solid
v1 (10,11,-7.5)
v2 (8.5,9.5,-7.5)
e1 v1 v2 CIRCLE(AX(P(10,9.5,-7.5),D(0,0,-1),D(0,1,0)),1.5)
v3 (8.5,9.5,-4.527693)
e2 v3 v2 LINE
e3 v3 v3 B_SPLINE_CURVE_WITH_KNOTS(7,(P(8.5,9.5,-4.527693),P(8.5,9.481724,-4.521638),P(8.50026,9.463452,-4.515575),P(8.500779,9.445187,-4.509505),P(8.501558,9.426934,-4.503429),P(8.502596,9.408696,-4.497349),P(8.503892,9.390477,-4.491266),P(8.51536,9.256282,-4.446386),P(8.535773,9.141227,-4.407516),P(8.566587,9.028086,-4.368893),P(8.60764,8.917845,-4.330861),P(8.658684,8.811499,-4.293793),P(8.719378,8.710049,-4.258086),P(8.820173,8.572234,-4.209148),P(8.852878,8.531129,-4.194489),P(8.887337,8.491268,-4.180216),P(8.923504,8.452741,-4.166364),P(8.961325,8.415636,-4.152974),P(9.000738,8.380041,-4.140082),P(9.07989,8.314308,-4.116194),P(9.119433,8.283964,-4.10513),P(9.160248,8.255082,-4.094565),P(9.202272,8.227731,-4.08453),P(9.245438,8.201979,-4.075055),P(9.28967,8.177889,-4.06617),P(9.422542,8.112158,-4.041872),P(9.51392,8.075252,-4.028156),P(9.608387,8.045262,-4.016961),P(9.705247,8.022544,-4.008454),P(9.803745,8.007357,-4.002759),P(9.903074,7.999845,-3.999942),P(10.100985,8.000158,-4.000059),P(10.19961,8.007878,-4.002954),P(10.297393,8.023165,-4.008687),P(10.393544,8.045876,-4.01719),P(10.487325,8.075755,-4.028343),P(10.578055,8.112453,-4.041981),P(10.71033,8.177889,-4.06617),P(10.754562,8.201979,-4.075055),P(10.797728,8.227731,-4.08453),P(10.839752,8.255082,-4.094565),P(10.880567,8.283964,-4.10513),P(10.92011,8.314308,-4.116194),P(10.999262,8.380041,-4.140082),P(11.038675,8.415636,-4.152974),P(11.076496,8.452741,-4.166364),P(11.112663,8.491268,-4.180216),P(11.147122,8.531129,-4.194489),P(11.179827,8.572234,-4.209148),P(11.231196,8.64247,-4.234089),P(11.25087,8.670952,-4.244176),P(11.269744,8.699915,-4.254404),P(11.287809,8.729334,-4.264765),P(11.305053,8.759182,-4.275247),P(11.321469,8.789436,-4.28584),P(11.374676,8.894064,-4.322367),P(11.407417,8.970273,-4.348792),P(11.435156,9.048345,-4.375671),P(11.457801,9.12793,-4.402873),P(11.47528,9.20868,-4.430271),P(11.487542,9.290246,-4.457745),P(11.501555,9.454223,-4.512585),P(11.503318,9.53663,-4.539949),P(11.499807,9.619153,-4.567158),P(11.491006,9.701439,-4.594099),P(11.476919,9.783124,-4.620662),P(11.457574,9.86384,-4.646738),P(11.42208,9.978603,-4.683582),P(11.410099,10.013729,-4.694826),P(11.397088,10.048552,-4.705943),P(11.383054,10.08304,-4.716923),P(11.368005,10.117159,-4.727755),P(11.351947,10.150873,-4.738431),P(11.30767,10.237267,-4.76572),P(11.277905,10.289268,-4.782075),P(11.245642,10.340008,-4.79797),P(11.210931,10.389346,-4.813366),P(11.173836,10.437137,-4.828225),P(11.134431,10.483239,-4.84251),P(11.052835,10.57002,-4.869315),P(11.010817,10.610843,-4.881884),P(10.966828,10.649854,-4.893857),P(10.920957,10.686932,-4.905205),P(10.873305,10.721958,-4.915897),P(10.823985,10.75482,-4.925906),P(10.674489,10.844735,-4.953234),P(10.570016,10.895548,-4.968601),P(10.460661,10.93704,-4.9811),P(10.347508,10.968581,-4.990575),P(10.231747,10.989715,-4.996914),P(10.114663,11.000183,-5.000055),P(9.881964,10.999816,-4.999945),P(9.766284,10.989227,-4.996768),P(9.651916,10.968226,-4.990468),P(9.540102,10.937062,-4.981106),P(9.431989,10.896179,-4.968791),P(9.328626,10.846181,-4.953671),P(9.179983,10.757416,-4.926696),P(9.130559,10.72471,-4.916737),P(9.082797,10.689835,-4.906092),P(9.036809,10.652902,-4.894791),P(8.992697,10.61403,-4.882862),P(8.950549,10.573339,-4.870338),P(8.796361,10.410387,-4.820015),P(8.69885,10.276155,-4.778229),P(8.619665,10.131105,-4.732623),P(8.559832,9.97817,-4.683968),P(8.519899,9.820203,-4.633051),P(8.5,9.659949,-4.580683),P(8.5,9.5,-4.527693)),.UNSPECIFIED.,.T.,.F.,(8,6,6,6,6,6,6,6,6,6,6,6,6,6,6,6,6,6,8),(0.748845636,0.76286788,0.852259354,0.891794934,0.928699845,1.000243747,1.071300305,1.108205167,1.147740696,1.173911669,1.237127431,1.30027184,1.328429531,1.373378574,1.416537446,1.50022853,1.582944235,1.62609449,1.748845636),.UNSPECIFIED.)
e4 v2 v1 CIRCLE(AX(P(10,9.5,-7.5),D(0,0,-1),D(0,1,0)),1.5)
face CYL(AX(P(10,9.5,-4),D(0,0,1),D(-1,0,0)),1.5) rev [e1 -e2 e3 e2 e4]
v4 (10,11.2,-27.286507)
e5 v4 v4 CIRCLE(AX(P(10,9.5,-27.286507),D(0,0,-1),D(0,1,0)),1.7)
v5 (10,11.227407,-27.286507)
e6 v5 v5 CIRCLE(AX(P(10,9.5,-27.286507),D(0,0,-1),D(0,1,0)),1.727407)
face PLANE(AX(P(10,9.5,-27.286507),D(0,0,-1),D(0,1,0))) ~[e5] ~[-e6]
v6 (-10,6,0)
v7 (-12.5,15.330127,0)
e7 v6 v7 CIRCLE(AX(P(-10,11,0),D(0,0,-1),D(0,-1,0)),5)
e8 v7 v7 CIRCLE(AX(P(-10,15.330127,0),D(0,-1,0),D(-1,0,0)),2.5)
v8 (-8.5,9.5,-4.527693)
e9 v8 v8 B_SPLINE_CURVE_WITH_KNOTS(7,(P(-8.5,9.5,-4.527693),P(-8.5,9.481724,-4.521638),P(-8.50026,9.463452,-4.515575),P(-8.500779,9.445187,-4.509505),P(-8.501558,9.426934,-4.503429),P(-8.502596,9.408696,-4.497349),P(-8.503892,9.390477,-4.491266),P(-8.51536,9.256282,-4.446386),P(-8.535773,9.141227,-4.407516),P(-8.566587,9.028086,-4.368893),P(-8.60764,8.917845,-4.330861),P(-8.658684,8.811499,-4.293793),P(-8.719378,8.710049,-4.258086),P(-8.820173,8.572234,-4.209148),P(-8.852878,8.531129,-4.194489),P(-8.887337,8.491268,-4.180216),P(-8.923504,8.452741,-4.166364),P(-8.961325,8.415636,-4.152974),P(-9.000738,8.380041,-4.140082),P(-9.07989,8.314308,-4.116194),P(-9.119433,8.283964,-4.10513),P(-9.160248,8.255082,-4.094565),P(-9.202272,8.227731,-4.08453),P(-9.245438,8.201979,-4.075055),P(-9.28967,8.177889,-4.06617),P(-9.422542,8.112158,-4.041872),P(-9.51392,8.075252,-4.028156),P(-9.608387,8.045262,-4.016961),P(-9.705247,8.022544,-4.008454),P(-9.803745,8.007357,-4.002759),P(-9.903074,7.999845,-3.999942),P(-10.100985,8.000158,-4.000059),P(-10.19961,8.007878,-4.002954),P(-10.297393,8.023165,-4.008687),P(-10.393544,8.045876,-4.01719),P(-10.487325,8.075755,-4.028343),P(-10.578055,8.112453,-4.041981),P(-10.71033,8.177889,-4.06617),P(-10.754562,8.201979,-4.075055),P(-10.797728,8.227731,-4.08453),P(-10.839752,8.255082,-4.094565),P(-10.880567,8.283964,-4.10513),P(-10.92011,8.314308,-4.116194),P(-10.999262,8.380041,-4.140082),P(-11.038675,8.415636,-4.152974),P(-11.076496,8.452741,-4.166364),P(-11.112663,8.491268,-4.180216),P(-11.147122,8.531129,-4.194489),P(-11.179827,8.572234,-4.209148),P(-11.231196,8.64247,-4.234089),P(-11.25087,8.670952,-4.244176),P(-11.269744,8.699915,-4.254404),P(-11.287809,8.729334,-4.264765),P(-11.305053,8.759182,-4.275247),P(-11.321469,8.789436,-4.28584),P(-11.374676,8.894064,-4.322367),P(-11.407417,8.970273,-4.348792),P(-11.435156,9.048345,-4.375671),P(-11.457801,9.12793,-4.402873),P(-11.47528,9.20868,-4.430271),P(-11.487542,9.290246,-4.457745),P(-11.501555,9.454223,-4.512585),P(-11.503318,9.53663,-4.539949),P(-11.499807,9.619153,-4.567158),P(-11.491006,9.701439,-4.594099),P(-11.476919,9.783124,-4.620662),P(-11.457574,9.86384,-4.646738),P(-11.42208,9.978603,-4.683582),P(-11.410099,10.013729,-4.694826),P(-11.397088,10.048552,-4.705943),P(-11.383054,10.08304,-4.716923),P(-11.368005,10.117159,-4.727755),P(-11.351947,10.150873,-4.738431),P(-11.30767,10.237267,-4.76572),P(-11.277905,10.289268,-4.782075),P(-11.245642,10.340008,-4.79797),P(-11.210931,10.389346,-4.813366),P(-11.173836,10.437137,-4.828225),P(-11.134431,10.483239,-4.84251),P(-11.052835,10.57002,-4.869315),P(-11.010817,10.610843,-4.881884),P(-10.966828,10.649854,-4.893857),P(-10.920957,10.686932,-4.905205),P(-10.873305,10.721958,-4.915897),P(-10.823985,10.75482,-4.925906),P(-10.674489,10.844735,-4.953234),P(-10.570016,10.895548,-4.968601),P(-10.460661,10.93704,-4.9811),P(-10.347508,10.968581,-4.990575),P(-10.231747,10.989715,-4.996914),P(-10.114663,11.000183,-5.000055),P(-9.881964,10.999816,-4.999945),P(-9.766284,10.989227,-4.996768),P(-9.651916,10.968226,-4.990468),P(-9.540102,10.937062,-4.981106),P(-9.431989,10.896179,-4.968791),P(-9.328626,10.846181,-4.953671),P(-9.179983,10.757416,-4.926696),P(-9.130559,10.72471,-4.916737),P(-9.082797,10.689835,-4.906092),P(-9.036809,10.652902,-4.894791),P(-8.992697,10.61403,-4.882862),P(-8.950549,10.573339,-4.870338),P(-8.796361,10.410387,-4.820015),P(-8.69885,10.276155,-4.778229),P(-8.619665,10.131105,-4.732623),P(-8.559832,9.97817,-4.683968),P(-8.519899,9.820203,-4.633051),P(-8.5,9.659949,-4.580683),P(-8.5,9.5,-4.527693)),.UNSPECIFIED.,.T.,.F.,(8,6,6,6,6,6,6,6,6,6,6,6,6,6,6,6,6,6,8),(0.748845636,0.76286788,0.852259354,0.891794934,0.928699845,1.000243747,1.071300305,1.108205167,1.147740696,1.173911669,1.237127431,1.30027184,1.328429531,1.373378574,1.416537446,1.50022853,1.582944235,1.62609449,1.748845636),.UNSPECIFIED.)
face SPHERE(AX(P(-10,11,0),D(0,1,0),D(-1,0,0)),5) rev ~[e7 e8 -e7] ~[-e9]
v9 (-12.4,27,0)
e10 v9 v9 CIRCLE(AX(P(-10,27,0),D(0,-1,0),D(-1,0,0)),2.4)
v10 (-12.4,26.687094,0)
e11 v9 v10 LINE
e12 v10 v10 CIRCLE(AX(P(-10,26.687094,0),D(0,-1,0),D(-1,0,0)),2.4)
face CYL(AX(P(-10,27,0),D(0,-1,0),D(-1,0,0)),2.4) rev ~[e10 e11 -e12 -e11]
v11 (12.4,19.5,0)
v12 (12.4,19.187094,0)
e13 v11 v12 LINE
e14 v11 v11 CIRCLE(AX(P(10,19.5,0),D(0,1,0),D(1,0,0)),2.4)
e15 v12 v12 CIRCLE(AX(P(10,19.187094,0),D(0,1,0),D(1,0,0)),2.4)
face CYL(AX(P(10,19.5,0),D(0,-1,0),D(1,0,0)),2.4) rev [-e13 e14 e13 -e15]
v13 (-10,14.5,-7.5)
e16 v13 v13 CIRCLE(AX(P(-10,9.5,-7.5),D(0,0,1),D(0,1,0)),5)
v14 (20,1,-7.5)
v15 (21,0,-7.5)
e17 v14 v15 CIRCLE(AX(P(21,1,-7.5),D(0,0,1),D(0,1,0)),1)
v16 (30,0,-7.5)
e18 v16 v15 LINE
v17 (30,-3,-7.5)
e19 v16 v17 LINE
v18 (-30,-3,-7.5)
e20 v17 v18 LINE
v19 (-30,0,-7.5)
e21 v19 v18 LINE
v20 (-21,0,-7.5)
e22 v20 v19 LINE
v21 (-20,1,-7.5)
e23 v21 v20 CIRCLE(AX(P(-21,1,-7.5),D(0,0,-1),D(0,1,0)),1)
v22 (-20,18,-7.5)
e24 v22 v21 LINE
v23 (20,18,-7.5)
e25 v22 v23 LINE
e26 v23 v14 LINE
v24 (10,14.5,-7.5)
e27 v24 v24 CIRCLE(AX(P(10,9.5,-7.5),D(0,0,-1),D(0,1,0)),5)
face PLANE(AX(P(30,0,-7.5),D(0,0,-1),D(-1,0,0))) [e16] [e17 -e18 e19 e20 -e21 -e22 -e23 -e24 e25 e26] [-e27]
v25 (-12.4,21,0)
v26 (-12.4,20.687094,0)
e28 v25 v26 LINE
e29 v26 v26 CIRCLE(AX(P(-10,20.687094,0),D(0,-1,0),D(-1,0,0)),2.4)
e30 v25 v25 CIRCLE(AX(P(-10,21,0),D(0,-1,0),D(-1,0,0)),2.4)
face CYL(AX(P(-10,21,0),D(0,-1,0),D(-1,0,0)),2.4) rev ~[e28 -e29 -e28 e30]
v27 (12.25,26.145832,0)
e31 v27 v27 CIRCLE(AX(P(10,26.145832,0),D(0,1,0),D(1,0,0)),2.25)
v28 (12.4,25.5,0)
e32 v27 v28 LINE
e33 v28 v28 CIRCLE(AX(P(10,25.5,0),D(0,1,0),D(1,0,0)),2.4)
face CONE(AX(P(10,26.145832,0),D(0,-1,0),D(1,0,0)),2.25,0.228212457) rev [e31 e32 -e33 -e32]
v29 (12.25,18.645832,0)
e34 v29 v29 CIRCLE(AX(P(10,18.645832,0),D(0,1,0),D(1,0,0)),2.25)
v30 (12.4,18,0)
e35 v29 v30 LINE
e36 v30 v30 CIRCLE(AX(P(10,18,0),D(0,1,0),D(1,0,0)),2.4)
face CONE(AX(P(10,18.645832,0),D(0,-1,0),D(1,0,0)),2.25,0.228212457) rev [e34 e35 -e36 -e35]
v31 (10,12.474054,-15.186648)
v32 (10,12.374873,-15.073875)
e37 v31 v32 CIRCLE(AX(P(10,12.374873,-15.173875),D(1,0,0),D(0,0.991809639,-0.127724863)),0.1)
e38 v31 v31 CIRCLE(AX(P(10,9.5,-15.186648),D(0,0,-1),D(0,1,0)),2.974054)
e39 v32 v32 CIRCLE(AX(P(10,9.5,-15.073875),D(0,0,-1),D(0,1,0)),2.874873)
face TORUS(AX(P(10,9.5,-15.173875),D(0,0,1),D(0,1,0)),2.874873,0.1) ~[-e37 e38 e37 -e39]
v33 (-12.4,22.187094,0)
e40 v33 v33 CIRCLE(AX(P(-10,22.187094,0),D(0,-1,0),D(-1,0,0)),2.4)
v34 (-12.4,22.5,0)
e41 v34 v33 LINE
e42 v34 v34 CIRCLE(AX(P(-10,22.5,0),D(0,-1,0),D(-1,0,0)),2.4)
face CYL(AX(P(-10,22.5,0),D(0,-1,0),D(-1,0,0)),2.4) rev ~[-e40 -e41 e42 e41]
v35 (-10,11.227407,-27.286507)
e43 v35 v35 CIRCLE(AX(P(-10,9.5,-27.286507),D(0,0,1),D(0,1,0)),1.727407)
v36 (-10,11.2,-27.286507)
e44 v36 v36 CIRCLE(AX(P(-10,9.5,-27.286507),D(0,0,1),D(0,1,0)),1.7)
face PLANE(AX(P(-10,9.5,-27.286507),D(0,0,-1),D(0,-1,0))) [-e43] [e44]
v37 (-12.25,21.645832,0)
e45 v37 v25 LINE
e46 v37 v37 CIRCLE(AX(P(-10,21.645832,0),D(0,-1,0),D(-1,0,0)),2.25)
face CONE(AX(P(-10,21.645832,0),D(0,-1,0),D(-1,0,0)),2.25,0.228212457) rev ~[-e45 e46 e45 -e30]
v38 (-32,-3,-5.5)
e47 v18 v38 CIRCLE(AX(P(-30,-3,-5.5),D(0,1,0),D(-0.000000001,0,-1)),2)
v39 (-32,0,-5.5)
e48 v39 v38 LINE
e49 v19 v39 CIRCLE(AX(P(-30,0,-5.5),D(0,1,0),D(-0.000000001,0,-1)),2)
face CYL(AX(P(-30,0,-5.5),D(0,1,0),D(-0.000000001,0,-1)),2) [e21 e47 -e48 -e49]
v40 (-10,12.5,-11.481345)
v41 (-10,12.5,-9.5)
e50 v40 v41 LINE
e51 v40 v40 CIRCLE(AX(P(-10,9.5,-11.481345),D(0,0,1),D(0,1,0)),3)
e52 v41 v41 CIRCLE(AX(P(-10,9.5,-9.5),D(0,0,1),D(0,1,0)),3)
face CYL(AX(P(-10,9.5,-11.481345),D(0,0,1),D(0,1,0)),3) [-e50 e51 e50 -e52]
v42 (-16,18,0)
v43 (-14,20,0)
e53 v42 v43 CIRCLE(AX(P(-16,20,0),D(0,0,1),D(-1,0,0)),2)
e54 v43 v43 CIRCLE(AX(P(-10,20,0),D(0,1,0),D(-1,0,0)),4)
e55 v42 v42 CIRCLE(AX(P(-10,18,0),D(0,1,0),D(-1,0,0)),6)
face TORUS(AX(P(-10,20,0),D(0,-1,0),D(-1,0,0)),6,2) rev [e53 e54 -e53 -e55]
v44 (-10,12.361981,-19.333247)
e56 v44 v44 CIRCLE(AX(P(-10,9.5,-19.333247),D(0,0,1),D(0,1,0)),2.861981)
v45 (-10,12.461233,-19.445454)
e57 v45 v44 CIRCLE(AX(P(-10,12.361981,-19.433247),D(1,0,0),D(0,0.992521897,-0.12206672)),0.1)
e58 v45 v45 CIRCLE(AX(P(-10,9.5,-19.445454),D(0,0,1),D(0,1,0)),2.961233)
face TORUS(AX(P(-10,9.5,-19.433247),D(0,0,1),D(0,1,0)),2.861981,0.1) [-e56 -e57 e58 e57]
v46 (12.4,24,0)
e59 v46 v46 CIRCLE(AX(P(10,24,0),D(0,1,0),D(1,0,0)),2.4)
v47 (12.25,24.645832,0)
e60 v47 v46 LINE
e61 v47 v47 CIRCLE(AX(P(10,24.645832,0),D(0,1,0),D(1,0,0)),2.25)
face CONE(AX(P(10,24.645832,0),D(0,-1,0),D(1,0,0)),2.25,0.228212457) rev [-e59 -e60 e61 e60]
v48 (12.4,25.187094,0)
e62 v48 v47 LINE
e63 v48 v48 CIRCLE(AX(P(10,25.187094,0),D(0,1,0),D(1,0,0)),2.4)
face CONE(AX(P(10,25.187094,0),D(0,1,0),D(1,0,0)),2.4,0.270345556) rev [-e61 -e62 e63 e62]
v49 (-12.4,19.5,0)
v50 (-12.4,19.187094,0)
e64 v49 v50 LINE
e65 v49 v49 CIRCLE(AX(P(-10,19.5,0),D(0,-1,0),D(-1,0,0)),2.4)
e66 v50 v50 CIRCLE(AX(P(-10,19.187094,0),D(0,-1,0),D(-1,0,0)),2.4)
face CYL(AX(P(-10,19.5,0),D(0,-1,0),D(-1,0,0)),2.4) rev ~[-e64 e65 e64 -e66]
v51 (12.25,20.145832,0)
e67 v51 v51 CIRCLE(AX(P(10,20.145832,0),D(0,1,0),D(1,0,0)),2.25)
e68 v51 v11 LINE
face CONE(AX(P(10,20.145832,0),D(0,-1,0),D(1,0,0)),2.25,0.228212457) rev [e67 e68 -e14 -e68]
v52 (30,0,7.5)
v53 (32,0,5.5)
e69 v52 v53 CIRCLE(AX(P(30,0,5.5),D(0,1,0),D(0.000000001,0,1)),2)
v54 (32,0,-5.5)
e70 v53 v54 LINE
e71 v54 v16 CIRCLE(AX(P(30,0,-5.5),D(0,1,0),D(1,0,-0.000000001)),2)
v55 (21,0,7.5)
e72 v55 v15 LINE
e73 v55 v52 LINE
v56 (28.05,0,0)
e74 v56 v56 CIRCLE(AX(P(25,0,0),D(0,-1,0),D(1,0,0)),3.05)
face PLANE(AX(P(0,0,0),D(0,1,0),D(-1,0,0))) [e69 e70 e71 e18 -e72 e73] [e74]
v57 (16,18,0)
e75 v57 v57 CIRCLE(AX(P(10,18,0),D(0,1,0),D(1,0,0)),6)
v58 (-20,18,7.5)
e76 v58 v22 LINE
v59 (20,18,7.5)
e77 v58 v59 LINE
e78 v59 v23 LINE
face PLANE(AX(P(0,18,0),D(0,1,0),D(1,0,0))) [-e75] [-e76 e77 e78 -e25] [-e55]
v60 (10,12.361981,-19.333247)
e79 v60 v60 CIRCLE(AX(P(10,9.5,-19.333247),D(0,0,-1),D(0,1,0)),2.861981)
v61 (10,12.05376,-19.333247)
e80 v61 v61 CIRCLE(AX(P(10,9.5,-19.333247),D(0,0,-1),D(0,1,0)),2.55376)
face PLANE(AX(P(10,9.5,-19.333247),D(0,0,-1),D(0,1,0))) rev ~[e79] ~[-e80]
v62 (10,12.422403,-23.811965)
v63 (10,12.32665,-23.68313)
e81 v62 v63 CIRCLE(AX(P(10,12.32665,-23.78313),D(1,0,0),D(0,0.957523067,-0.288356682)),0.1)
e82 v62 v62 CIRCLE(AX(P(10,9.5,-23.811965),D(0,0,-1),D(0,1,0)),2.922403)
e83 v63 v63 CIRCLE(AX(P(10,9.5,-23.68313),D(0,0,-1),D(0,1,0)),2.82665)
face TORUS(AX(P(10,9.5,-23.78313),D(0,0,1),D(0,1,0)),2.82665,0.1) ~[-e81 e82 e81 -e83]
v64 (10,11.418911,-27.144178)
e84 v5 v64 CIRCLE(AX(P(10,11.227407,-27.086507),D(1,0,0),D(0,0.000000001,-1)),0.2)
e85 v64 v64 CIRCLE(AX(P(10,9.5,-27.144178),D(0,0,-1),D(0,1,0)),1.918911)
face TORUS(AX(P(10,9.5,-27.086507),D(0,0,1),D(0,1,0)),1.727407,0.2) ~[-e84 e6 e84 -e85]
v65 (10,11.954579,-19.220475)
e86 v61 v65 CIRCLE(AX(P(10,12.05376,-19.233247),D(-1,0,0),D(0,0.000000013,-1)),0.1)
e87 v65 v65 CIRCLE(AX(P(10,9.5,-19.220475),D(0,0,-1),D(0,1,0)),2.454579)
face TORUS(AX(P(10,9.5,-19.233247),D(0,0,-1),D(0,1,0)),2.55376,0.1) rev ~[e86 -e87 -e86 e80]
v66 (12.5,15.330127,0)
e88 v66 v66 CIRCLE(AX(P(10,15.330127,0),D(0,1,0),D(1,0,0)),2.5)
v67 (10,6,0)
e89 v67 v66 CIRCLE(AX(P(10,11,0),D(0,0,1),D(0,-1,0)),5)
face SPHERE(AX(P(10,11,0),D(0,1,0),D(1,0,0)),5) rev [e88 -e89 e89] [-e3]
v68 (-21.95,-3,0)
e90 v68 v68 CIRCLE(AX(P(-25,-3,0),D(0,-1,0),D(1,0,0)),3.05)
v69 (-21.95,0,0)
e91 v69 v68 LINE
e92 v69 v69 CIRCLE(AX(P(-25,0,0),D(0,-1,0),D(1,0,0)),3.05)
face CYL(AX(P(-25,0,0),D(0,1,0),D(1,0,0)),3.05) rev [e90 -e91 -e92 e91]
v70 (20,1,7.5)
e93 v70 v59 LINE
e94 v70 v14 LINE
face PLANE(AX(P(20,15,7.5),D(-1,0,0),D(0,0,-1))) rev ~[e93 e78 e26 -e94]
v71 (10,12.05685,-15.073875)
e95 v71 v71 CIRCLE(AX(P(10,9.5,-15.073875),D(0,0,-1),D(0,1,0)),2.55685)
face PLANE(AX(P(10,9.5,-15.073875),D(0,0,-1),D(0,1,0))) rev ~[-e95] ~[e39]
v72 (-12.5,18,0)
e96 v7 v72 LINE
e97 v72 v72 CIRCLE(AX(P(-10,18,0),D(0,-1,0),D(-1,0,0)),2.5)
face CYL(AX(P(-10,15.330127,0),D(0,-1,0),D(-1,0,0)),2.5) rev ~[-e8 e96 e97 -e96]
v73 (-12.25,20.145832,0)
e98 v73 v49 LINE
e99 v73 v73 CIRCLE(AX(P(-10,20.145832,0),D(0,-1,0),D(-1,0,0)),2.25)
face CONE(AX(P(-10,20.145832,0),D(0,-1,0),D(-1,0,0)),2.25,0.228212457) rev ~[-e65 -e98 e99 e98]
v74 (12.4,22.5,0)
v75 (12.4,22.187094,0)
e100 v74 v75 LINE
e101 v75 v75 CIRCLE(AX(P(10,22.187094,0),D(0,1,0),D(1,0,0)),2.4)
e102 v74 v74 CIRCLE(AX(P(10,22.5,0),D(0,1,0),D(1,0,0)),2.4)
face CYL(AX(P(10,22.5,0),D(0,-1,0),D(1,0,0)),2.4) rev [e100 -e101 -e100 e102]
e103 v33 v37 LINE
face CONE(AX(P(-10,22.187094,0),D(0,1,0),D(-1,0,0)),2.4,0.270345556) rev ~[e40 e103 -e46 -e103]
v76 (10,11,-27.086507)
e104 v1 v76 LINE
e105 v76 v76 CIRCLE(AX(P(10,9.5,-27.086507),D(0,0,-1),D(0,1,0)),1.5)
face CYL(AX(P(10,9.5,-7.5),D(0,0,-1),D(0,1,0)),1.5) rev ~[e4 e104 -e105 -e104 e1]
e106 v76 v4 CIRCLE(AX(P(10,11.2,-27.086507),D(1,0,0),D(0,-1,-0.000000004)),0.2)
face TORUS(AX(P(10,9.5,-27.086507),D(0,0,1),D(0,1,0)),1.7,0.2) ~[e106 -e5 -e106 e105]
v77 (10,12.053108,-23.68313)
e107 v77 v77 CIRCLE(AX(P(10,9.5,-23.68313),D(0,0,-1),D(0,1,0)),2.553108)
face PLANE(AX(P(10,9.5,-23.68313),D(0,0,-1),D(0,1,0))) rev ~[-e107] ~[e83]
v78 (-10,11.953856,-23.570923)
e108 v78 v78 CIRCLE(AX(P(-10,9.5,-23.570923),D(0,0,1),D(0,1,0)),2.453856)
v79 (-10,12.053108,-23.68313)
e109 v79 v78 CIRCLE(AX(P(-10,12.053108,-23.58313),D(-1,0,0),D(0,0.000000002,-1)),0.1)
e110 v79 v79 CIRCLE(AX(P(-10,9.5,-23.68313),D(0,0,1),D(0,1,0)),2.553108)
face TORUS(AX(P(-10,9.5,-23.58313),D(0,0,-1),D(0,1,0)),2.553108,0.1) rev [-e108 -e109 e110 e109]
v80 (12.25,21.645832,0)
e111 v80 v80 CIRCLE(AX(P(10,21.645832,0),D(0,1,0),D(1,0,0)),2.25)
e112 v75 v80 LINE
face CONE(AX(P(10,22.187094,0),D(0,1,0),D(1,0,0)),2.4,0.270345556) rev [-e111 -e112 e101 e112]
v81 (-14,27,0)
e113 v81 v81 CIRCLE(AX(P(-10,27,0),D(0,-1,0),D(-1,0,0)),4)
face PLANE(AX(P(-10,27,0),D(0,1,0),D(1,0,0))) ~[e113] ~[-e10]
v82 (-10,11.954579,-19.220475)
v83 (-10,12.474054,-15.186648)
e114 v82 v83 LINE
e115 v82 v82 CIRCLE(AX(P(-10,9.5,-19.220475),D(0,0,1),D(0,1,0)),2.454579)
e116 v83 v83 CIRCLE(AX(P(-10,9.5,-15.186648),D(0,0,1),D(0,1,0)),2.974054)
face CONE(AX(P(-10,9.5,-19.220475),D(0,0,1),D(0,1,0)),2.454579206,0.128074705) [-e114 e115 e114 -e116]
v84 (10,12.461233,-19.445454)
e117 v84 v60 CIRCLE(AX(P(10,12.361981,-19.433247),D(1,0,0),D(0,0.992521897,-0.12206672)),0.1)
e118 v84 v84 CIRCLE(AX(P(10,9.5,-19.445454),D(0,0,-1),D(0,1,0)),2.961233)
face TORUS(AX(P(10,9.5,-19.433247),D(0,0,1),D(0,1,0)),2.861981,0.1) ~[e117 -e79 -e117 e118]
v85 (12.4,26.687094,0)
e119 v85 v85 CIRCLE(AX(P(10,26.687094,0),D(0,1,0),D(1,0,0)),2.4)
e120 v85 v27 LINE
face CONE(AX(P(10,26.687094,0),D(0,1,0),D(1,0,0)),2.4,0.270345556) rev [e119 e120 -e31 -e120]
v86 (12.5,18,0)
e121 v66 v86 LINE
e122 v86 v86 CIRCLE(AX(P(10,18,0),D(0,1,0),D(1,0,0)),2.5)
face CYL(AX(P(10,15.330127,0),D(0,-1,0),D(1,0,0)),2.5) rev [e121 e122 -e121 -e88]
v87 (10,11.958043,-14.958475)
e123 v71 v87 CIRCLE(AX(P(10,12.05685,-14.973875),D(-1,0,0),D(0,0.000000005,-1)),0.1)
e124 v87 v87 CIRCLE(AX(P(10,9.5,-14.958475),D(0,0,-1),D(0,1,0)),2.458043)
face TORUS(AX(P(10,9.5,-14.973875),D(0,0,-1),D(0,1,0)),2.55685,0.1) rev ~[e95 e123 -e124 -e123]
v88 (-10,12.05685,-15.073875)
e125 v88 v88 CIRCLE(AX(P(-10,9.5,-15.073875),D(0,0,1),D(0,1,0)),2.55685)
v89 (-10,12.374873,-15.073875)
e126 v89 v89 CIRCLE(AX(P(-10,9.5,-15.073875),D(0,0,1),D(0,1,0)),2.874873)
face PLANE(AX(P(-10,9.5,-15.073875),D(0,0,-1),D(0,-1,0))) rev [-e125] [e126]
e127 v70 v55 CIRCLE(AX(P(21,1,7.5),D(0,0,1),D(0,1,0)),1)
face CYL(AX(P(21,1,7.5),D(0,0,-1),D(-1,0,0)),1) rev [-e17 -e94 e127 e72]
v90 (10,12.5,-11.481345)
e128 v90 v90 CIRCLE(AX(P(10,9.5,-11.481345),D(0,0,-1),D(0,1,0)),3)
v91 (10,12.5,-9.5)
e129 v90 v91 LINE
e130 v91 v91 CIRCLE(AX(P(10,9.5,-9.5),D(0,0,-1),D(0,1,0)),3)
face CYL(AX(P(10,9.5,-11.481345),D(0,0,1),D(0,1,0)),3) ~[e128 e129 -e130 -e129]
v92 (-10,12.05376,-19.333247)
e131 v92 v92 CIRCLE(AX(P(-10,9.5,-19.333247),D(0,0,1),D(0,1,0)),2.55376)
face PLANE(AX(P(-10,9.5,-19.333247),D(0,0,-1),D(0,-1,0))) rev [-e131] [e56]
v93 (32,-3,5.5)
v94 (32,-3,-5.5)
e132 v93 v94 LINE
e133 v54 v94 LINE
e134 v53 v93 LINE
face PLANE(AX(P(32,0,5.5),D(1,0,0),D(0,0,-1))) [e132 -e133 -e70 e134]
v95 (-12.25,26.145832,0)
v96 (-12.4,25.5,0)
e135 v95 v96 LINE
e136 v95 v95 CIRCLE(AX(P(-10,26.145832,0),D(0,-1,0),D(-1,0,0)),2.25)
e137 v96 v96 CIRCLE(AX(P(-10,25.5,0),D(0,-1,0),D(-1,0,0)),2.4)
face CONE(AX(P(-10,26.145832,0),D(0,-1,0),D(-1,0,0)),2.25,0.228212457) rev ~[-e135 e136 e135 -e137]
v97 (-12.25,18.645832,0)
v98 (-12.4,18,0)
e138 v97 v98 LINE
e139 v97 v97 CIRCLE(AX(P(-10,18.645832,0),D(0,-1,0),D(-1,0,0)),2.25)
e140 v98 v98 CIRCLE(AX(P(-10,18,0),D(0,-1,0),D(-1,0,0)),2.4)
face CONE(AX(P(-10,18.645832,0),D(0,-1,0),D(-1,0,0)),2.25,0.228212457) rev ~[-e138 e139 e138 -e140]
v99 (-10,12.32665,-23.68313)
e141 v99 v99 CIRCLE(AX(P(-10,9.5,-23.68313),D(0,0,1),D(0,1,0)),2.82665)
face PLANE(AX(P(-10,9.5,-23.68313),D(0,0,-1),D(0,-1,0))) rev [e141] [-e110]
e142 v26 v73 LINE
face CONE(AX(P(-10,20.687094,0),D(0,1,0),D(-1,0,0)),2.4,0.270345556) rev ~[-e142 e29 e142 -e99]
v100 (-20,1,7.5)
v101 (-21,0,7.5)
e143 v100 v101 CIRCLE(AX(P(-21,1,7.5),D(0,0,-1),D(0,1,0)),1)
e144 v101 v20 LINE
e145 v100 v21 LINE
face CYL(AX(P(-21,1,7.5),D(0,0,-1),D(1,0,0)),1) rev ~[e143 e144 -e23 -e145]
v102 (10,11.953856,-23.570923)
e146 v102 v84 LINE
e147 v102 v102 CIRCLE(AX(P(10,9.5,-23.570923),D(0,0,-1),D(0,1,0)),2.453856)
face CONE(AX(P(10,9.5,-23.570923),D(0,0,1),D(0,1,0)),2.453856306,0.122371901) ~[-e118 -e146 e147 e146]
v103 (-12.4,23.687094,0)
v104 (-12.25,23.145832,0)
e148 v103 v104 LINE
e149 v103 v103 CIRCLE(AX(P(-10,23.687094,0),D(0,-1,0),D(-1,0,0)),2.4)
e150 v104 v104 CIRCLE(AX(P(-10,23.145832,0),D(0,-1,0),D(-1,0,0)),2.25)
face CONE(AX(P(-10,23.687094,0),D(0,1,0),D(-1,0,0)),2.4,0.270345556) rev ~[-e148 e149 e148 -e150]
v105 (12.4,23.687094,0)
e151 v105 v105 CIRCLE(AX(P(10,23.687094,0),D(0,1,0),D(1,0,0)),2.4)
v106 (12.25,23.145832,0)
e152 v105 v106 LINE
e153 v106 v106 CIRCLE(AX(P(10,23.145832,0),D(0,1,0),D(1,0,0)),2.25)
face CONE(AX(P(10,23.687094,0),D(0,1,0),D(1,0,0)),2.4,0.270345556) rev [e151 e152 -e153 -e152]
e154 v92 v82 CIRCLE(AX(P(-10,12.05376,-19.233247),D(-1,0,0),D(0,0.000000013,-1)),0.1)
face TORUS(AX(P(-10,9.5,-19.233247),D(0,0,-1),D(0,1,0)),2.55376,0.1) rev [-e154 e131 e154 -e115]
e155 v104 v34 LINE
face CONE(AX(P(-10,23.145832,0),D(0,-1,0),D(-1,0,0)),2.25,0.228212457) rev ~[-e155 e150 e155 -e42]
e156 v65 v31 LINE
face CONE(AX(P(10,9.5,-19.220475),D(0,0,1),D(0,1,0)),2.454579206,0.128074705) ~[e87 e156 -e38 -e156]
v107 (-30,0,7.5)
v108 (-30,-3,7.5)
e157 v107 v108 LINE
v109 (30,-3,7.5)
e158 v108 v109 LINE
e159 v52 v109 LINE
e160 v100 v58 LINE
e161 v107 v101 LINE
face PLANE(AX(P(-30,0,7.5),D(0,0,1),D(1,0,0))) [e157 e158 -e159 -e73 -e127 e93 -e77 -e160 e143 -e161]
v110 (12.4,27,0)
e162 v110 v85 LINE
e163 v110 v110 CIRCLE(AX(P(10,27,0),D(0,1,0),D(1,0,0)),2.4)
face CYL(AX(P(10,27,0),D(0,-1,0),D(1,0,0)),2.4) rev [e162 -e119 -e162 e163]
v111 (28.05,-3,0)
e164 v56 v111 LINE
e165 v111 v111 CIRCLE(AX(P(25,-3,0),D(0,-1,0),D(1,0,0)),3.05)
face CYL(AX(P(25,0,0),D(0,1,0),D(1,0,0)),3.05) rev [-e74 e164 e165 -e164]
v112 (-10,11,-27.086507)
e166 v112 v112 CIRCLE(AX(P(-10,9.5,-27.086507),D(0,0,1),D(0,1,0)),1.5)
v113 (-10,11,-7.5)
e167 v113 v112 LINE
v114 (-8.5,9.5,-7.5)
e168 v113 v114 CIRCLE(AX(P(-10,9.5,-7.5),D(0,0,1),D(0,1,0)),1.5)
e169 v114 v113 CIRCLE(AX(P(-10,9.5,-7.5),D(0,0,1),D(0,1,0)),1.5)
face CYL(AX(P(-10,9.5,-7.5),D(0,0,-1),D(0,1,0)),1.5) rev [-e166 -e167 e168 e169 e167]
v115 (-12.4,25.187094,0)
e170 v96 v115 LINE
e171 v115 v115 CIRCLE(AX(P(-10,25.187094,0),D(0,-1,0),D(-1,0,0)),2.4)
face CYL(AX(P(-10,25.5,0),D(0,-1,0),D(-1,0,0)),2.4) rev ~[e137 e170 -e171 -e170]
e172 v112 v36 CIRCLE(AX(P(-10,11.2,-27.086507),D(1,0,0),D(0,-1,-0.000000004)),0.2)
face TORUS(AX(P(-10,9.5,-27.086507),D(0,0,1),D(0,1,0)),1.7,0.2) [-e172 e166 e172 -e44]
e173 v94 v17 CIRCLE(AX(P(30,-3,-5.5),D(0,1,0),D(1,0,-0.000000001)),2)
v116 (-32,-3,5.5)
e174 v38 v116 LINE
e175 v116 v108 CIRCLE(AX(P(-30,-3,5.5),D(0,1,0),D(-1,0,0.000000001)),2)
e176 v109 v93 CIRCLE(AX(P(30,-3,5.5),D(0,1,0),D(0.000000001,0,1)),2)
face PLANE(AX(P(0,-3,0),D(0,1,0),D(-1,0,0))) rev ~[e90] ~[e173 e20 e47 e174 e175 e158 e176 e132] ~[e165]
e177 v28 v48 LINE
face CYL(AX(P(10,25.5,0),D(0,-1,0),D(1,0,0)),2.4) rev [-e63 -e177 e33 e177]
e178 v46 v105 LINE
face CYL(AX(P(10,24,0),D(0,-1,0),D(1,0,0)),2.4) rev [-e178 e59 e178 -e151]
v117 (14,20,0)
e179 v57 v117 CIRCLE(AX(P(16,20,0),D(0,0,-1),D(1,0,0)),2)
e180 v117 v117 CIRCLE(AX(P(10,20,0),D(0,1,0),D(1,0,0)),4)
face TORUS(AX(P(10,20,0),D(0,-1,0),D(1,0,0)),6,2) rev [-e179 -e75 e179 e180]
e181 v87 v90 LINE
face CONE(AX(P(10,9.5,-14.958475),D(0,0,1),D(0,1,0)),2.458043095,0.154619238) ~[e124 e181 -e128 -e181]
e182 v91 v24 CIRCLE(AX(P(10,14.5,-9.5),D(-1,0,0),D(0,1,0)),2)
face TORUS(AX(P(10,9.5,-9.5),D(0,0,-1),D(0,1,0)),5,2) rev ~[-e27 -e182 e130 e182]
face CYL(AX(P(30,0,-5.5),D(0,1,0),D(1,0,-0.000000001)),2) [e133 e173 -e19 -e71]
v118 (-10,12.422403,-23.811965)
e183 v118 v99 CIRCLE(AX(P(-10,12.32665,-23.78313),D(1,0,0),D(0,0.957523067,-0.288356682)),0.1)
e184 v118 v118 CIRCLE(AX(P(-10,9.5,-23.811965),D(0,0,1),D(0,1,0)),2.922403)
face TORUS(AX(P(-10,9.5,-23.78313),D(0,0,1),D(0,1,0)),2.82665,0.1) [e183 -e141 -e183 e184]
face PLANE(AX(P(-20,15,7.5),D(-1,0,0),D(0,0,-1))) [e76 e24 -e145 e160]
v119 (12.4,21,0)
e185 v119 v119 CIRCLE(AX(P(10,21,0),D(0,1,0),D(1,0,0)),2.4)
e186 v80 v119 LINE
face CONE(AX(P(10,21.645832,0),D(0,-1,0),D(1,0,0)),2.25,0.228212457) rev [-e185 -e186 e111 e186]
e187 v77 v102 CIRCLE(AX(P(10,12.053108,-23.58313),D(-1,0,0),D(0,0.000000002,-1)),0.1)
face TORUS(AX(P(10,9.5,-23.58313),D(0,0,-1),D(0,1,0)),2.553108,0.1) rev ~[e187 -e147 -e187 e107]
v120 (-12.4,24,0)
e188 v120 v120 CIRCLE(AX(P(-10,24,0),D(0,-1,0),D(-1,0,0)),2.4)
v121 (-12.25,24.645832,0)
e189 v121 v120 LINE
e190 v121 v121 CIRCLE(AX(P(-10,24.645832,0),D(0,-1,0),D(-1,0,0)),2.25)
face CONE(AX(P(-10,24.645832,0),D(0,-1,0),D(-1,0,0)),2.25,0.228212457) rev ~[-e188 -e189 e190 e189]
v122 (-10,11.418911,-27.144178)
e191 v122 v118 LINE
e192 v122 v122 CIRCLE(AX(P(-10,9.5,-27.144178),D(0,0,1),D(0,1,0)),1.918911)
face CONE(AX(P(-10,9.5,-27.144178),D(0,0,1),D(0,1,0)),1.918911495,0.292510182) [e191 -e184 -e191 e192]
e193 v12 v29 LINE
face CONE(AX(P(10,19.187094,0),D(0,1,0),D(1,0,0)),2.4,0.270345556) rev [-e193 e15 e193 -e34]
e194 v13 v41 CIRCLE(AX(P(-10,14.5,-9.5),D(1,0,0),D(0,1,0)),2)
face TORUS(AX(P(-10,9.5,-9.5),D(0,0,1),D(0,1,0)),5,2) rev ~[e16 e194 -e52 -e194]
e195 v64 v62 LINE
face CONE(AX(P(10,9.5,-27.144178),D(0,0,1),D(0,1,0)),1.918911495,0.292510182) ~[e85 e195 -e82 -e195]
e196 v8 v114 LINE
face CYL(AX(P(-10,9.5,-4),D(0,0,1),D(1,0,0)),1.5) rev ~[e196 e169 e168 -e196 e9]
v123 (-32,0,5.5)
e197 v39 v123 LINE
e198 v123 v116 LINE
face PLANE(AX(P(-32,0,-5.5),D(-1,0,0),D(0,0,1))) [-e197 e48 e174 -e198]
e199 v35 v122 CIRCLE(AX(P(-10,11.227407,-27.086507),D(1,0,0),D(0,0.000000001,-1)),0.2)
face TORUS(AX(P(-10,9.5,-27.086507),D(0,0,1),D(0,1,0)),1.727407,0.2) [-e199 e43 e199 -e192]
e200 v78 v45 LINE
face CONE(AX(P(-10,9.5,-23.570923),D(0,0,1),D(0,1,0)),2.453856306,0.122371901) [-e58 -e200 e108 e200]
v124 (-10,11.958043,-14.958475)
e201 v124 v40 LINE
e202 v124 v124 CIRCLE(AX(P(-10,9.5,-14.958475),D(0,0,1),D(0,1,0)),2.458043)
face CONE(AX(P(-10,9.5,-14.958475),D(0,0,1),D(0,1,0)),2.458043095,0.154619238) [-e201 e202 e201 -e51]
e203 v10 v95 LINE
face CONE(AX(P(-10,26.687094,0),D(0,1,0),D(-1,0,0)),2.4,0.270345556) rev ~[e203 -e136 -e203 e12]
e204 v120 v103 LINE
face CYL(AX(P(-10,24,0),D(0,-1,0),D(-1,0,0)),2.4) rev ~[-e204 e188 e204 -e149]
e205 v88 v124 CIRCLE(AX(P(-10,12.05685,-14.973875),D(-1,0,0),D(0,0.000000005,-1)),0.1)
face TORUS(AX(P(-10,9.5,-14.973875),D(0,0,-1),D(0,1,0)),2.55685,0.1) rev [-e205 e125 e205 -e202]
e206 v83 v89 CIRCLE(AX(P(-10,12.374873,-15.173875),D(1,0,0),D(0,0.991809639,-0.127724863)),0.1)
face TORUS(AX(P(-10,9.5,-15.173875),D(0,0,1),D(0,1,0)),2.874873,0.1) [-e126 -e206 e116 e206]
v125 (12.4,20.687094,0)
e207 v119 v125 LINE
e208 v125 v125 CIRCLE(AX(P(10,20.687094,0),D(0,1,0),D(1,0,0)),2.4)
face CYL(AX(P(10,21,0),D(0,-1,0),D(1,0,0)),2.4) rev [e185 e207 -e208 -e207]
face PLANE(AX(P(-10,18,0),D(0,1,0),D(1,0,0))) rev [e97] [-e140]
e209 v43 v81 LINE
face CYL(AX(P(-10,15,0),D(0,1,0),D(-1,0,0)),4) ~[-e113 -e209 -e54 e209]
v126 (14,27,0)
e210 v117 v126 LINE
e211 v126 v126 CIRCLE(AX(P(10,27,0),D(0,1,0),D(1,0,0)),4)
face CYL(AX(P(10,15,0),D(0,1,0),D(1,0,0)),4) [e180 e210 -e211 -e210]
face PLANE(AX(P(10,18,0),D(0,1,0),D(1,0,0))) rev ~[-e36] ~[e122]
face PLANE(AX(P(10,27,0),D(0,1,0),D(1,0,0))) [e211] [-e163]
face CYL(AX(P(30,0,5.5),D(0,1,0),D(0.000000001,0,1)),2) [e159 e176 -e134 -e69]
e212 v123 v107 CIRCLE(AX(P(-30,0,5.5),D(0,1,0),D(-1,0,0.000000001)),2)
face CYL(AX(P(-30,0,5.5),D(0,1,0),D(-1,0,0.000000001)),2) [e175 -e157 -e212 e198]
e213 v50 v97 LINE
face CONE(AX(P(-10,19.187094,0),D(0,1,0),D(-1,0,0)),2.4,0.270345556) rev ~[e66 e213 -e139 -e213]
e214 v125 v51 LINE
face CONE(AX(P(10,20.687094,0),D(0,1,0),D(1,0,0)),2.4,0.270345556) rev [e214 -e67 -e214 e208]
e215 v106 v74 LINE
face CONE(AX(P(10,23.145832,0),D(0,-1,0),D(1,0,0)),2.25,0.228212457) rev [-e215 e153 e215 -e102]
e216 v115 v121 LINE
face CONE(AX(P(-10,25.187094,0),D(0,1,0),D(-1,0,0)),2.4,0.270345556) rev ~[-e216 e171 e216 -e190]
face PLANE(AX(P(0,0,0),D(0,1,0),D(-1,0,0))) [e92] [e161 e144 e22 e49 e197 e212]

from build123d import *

# Parameters (mm, degrees)
SKETCH1_W            = 40
SKETCH1_H            = 15
BOSS_EXTRUDE1_DEPTH  = 15
SKETCH2_W            = 40
SKETCH2_H            = 15
BOSS_EXTRUDE2_DEPTH  = 3
SKETCH5_R            = 3.05
BOSS_EXTRUDE3_DEPTH  = 3
FILLET1_R            = 2
FILLET2_R            = 1
CUT_EXTRUDE1_START   = -2.669873
SKETCH59_R           = 2.5
CUT_EXTRUDE1_DEPTH   = 2.669873
CUT_EXTRUDE3_START   = -3.5
SKETCH62_R           = 1.5
CUT_EXTRUDE3_DEPTH   = 3.5
FILLET5_R            = 2
FILLET1_OF_MIRROR1_R = 2
FILLET5_OF_MIRROR1_R = 2


with BuildPart() as part:
    # Sketch1 → Boss-Extrude1 (new body)
    with BuildSketch(Plane(origin=(0, 0, 0), x_dir=(1, 0, 0), z_dir=(0, 1, 0))):
        Rectangle(SKETCH1_W, SKETCH1_H)
    extrude(amount=BOSS_EXTRUDE1_DEPTH)

    # Sketch2 → Boss-Extrude2 (add)
    with BuildSketch(Plane(origin=(0, 15, 0), x_dir=(1, 0, 0), z_dir=(0, 1, 0))):
        Rectangle(SKETCH2_W, SKETCH2_H)
    extrude(amount=BOSS_EXTRUDE2_DEPTH)

    # Sketch4 → Revolve1 (revolve)
    with BuildSketch(Plane.XY):
        Polygon((12.4, 27), (12.4, 26.687093665), (12.25, 26.145831823), (12.4, 25.5), (12.4, 25.187093665), (12.25, 24.645831823), (12.4, 24), (12.4, 23.687093665), (12.25, 23.145831823), (12.4, 22.5), (12.4, 22.187093665), (12.25, 21.645831823), (12.4, 21), (12.4, 20.687093665), (12.25, 20.145831823), (12.4, 19.5), (12.4, 19.187093665), (12.25, 18.645831823), (12.4, 18), (12.4, 17.687093665), (12.25, 17.145831823), (12.4, 16.5), (12.4, 16.187093665), (12.25, 15.645831823), (12.4, 15), (14, 15), (14, 27), align=None)
    revolve1 = revolve(axis=Axis((10, 0, 0), (0, 1, 0)))

    # Sketch5 → Boss-Extrude3 (add)
    with BuildSketch(Plane.XZ):
        with BuildLine():
            Line((30, -7.5), (-30, -7.5))
            ThreePointArc((-30, -7.5), (-31.414213562, -6.914213562), (-32, -5.5))
            Line((-32, -5.5), (-32, 5.5))
            ThreePointArc((-32, 5.5), (-31.414213562, 6.914213562), (-30, 7.5))
            Line((-30, 7.5), (30, 7.5))
            ThreePointArc((30, 7.5), (31.414213562, 6.914213562), (32, 5.5))
            Line((32, 5.5), (32, -5.5))
            ThreePointArc((32, -5.5), (31.414213562, -6.914213562), (30, -7.5))
        make_face()
        with Locations((25, 0)):
            Circle(SKETCH5_R, mode=Mode.SUBTRACT)
        with Locations((-25, 0)):
            Circle(SKETCH5_R, mode=Mode.SUBTRACT)
    extrude(amount=BOSS_EXTRUDE3_DEPTH)

    # Fillet1
    fillet1_edges = [part.edges().sort_by_distance(p)[0] for p in [
        (6, 18, 0),
    ]]
    fillet(fillet1_edges, radius=FILLET1_R)

    # Fillet2
    fillet2_edges = [part.edges().sort_by_distance(p)[0] for p in [
        (20, 0, 0),
        (-20, 0, 0),
    ]]
    fillet(fillet2_edges, radius=FILLET2_R)

    # Sketch56 → Cut-Revolve1 (revolve, cut)
    with BuildSketch(Plane.XY):
        with BuildLine():
            Line((10, 16), (10, 6))
            ThreePointArc((10, 6), (15, 11), (10, 16))
        make_face()
    cut_revolve1 = revolve(axis=Axis((10, 16, 0), (0, -1, 0)), mode=Mode.SUBTRACT)

    # Sketch59 → Cut-Extrude1 (cut)
    with BuildSketch(Plane(origin=(0, 18, 0), x_dir=(1, 0, 0), z_dir=(0, 1, 0)).offset(CUT_EXTRUDE1_START)):
        with Locations((10, 0)):
            Circle(SKETCH59_R)
    cut_extrude1 = extrude(amount=CUT_EXTRUDE1_DEPTH, mode=Mode.SUBTRACT)

    # Sketch61 → Revolve2 (revolve)
    with BuildSketch(Plane(origin=(10, 0, 0), x_dir=(0, 0, -1), z_dir=(1, 0, 0))):
        with BuildLine():
            Line((27.144178344, 11.418911495), (23.811965275, 12.422402649))
            ThreePointArc((23.811965275, 12.422402649), (23.723478818, 12.406911064), (23.683129606, 12.326650342))
            Line((23.683129606, 12.326650342), (23.683129606, 12.053108496))
            ThreePointArc((23.683129606, 12.053108496), (23.649384164, 11.978206336), (23.570922935, 11.953856306))
            Line((23.570922935, 11.953856306), (19.445453696, 12.461232985))
            ThreePointArc((19.445453696, 12.461232985), (19.366992467, 12.436882956), (19.333247024, 12.361980796))
            Line((19.333247024, 12.361980796), (19.333247024, 12.05376017))
            ThreePointArc((19.333247024, 12.05376017), (19.299287737, 11.978669396), (19.220474539, 11.954579206))
            Line((19.220474539, 11.954579206), (15.186647669, 12.474053841))
            ThreePointArc((15.186647669, 12.474053841), (15.107834471, 12.449963651), (15.073875184, 12.374872877))
            Line((15.073875184, 12.374872877), (15.073875184, 12.056850119))
            ThreePointArc((15.073875184, 12.056850119), (15.038913485, 11.980889475), (14.958474795, 11.958043095))
            Line((14.958474795, 11.958043095), (11.481345181, 12.5))
            Line((11.481345181, 12.5), (7.5, 12.5))
            Line((7.5, 12.5), (7.5, 11))
            Line((7.5, 11), (27.086507007, 11))
            ThreePointArc((27.086507007, 11), (27.227928363, 11.058578644), (27.286507007, 11.2))
            Line((27.286507007, 11.2), (27.286507007, 11.227406882))
            ThreePointArc((27.286507007, 11.227406882), (27.24702845, 11.346708459), (27.144178344, 11.418911495))
        make_face()
    revolve2 = revolve(axis=Axis((10, 9.5, -7.5), (0, 0, -1)))

    # Sketch62 → Cut-Extrude3 (cut)
    with BuildSketch(Plane(origin=(0, 0, -7.5), x_dir=(-1, 0, 0), z_dir=(0, 0, -1)).offset(CUT_EXTRUDE3_START)):
        with Locations((-10, 9.5)):
            Circle(SKETCH62_R)
    cut_extrude3 = extrude(amount=CUT_EXTRUDE3_DEPTH, mode=Mode.SUBTRACT)

    # Fillet5
    fillet5_edges = [part.edges().sort_by_distance(p)[0] for p in [
        (10, 6.5, -7.5),
    ]]
    fillet(fillet5_edges, radius=FILLET5_R)

    # Mirror1: Revolve1, Cut-Revolve1, Cut-Extrude1, Revolve2, Cut-Extrude3 across plane
    add(revolve1.mirror(Plane(origin=(0, 0, 0), x_dir=(0, 0, 1), z_dir=(1, 0, 0))))
    add(cut_revolve1.mirror(Plane(origin=(0, 0, 0), x_dir=(0, 0, 1), z_dir=(1, 0, 0))), mode=Mode.SUBTRACT)
    add(cut_extrude1.mirror(Plane(origin=(0, 0, 0), x_dir=(0, 0, 1), z_dir=(1, 0, 0))), mode=Mode.SUBTRACT)
    add(revolve2.mirror(Plane(origin=(0, 0, 0), x_dir=(0, 0, 1), z_dir=(1, 0, 0))))
    add(cut_extrude3.mirror(Plane(origin=(0, 0, 0), x_dir=(0, 0, 1), z_dir=(1, 0, 0))), mode=Mode.SUBTRACT)

    # Fillet1 of Mirror1
    fillet1_of_mirror1_edges = [part.edges().sort_by_distance(p)[0] for p in [
        (-6, 18, 0),
    ]]
    fillet(fillet1_of_mirror1_edges, radius=FILLET1_OF_MIRROR1_R)

    # Fillet5 of Mirror1
    fillet5_of_mirror1_edges = [part.edges().sort_by_distance(p)[0] for p in [
        (-10, 6.5, -7.5),
    ]]
    fillet(fillet5_of_mirror1_edges, radius=FILLET5_OF_MIRROR1_R)


solid = part.part
